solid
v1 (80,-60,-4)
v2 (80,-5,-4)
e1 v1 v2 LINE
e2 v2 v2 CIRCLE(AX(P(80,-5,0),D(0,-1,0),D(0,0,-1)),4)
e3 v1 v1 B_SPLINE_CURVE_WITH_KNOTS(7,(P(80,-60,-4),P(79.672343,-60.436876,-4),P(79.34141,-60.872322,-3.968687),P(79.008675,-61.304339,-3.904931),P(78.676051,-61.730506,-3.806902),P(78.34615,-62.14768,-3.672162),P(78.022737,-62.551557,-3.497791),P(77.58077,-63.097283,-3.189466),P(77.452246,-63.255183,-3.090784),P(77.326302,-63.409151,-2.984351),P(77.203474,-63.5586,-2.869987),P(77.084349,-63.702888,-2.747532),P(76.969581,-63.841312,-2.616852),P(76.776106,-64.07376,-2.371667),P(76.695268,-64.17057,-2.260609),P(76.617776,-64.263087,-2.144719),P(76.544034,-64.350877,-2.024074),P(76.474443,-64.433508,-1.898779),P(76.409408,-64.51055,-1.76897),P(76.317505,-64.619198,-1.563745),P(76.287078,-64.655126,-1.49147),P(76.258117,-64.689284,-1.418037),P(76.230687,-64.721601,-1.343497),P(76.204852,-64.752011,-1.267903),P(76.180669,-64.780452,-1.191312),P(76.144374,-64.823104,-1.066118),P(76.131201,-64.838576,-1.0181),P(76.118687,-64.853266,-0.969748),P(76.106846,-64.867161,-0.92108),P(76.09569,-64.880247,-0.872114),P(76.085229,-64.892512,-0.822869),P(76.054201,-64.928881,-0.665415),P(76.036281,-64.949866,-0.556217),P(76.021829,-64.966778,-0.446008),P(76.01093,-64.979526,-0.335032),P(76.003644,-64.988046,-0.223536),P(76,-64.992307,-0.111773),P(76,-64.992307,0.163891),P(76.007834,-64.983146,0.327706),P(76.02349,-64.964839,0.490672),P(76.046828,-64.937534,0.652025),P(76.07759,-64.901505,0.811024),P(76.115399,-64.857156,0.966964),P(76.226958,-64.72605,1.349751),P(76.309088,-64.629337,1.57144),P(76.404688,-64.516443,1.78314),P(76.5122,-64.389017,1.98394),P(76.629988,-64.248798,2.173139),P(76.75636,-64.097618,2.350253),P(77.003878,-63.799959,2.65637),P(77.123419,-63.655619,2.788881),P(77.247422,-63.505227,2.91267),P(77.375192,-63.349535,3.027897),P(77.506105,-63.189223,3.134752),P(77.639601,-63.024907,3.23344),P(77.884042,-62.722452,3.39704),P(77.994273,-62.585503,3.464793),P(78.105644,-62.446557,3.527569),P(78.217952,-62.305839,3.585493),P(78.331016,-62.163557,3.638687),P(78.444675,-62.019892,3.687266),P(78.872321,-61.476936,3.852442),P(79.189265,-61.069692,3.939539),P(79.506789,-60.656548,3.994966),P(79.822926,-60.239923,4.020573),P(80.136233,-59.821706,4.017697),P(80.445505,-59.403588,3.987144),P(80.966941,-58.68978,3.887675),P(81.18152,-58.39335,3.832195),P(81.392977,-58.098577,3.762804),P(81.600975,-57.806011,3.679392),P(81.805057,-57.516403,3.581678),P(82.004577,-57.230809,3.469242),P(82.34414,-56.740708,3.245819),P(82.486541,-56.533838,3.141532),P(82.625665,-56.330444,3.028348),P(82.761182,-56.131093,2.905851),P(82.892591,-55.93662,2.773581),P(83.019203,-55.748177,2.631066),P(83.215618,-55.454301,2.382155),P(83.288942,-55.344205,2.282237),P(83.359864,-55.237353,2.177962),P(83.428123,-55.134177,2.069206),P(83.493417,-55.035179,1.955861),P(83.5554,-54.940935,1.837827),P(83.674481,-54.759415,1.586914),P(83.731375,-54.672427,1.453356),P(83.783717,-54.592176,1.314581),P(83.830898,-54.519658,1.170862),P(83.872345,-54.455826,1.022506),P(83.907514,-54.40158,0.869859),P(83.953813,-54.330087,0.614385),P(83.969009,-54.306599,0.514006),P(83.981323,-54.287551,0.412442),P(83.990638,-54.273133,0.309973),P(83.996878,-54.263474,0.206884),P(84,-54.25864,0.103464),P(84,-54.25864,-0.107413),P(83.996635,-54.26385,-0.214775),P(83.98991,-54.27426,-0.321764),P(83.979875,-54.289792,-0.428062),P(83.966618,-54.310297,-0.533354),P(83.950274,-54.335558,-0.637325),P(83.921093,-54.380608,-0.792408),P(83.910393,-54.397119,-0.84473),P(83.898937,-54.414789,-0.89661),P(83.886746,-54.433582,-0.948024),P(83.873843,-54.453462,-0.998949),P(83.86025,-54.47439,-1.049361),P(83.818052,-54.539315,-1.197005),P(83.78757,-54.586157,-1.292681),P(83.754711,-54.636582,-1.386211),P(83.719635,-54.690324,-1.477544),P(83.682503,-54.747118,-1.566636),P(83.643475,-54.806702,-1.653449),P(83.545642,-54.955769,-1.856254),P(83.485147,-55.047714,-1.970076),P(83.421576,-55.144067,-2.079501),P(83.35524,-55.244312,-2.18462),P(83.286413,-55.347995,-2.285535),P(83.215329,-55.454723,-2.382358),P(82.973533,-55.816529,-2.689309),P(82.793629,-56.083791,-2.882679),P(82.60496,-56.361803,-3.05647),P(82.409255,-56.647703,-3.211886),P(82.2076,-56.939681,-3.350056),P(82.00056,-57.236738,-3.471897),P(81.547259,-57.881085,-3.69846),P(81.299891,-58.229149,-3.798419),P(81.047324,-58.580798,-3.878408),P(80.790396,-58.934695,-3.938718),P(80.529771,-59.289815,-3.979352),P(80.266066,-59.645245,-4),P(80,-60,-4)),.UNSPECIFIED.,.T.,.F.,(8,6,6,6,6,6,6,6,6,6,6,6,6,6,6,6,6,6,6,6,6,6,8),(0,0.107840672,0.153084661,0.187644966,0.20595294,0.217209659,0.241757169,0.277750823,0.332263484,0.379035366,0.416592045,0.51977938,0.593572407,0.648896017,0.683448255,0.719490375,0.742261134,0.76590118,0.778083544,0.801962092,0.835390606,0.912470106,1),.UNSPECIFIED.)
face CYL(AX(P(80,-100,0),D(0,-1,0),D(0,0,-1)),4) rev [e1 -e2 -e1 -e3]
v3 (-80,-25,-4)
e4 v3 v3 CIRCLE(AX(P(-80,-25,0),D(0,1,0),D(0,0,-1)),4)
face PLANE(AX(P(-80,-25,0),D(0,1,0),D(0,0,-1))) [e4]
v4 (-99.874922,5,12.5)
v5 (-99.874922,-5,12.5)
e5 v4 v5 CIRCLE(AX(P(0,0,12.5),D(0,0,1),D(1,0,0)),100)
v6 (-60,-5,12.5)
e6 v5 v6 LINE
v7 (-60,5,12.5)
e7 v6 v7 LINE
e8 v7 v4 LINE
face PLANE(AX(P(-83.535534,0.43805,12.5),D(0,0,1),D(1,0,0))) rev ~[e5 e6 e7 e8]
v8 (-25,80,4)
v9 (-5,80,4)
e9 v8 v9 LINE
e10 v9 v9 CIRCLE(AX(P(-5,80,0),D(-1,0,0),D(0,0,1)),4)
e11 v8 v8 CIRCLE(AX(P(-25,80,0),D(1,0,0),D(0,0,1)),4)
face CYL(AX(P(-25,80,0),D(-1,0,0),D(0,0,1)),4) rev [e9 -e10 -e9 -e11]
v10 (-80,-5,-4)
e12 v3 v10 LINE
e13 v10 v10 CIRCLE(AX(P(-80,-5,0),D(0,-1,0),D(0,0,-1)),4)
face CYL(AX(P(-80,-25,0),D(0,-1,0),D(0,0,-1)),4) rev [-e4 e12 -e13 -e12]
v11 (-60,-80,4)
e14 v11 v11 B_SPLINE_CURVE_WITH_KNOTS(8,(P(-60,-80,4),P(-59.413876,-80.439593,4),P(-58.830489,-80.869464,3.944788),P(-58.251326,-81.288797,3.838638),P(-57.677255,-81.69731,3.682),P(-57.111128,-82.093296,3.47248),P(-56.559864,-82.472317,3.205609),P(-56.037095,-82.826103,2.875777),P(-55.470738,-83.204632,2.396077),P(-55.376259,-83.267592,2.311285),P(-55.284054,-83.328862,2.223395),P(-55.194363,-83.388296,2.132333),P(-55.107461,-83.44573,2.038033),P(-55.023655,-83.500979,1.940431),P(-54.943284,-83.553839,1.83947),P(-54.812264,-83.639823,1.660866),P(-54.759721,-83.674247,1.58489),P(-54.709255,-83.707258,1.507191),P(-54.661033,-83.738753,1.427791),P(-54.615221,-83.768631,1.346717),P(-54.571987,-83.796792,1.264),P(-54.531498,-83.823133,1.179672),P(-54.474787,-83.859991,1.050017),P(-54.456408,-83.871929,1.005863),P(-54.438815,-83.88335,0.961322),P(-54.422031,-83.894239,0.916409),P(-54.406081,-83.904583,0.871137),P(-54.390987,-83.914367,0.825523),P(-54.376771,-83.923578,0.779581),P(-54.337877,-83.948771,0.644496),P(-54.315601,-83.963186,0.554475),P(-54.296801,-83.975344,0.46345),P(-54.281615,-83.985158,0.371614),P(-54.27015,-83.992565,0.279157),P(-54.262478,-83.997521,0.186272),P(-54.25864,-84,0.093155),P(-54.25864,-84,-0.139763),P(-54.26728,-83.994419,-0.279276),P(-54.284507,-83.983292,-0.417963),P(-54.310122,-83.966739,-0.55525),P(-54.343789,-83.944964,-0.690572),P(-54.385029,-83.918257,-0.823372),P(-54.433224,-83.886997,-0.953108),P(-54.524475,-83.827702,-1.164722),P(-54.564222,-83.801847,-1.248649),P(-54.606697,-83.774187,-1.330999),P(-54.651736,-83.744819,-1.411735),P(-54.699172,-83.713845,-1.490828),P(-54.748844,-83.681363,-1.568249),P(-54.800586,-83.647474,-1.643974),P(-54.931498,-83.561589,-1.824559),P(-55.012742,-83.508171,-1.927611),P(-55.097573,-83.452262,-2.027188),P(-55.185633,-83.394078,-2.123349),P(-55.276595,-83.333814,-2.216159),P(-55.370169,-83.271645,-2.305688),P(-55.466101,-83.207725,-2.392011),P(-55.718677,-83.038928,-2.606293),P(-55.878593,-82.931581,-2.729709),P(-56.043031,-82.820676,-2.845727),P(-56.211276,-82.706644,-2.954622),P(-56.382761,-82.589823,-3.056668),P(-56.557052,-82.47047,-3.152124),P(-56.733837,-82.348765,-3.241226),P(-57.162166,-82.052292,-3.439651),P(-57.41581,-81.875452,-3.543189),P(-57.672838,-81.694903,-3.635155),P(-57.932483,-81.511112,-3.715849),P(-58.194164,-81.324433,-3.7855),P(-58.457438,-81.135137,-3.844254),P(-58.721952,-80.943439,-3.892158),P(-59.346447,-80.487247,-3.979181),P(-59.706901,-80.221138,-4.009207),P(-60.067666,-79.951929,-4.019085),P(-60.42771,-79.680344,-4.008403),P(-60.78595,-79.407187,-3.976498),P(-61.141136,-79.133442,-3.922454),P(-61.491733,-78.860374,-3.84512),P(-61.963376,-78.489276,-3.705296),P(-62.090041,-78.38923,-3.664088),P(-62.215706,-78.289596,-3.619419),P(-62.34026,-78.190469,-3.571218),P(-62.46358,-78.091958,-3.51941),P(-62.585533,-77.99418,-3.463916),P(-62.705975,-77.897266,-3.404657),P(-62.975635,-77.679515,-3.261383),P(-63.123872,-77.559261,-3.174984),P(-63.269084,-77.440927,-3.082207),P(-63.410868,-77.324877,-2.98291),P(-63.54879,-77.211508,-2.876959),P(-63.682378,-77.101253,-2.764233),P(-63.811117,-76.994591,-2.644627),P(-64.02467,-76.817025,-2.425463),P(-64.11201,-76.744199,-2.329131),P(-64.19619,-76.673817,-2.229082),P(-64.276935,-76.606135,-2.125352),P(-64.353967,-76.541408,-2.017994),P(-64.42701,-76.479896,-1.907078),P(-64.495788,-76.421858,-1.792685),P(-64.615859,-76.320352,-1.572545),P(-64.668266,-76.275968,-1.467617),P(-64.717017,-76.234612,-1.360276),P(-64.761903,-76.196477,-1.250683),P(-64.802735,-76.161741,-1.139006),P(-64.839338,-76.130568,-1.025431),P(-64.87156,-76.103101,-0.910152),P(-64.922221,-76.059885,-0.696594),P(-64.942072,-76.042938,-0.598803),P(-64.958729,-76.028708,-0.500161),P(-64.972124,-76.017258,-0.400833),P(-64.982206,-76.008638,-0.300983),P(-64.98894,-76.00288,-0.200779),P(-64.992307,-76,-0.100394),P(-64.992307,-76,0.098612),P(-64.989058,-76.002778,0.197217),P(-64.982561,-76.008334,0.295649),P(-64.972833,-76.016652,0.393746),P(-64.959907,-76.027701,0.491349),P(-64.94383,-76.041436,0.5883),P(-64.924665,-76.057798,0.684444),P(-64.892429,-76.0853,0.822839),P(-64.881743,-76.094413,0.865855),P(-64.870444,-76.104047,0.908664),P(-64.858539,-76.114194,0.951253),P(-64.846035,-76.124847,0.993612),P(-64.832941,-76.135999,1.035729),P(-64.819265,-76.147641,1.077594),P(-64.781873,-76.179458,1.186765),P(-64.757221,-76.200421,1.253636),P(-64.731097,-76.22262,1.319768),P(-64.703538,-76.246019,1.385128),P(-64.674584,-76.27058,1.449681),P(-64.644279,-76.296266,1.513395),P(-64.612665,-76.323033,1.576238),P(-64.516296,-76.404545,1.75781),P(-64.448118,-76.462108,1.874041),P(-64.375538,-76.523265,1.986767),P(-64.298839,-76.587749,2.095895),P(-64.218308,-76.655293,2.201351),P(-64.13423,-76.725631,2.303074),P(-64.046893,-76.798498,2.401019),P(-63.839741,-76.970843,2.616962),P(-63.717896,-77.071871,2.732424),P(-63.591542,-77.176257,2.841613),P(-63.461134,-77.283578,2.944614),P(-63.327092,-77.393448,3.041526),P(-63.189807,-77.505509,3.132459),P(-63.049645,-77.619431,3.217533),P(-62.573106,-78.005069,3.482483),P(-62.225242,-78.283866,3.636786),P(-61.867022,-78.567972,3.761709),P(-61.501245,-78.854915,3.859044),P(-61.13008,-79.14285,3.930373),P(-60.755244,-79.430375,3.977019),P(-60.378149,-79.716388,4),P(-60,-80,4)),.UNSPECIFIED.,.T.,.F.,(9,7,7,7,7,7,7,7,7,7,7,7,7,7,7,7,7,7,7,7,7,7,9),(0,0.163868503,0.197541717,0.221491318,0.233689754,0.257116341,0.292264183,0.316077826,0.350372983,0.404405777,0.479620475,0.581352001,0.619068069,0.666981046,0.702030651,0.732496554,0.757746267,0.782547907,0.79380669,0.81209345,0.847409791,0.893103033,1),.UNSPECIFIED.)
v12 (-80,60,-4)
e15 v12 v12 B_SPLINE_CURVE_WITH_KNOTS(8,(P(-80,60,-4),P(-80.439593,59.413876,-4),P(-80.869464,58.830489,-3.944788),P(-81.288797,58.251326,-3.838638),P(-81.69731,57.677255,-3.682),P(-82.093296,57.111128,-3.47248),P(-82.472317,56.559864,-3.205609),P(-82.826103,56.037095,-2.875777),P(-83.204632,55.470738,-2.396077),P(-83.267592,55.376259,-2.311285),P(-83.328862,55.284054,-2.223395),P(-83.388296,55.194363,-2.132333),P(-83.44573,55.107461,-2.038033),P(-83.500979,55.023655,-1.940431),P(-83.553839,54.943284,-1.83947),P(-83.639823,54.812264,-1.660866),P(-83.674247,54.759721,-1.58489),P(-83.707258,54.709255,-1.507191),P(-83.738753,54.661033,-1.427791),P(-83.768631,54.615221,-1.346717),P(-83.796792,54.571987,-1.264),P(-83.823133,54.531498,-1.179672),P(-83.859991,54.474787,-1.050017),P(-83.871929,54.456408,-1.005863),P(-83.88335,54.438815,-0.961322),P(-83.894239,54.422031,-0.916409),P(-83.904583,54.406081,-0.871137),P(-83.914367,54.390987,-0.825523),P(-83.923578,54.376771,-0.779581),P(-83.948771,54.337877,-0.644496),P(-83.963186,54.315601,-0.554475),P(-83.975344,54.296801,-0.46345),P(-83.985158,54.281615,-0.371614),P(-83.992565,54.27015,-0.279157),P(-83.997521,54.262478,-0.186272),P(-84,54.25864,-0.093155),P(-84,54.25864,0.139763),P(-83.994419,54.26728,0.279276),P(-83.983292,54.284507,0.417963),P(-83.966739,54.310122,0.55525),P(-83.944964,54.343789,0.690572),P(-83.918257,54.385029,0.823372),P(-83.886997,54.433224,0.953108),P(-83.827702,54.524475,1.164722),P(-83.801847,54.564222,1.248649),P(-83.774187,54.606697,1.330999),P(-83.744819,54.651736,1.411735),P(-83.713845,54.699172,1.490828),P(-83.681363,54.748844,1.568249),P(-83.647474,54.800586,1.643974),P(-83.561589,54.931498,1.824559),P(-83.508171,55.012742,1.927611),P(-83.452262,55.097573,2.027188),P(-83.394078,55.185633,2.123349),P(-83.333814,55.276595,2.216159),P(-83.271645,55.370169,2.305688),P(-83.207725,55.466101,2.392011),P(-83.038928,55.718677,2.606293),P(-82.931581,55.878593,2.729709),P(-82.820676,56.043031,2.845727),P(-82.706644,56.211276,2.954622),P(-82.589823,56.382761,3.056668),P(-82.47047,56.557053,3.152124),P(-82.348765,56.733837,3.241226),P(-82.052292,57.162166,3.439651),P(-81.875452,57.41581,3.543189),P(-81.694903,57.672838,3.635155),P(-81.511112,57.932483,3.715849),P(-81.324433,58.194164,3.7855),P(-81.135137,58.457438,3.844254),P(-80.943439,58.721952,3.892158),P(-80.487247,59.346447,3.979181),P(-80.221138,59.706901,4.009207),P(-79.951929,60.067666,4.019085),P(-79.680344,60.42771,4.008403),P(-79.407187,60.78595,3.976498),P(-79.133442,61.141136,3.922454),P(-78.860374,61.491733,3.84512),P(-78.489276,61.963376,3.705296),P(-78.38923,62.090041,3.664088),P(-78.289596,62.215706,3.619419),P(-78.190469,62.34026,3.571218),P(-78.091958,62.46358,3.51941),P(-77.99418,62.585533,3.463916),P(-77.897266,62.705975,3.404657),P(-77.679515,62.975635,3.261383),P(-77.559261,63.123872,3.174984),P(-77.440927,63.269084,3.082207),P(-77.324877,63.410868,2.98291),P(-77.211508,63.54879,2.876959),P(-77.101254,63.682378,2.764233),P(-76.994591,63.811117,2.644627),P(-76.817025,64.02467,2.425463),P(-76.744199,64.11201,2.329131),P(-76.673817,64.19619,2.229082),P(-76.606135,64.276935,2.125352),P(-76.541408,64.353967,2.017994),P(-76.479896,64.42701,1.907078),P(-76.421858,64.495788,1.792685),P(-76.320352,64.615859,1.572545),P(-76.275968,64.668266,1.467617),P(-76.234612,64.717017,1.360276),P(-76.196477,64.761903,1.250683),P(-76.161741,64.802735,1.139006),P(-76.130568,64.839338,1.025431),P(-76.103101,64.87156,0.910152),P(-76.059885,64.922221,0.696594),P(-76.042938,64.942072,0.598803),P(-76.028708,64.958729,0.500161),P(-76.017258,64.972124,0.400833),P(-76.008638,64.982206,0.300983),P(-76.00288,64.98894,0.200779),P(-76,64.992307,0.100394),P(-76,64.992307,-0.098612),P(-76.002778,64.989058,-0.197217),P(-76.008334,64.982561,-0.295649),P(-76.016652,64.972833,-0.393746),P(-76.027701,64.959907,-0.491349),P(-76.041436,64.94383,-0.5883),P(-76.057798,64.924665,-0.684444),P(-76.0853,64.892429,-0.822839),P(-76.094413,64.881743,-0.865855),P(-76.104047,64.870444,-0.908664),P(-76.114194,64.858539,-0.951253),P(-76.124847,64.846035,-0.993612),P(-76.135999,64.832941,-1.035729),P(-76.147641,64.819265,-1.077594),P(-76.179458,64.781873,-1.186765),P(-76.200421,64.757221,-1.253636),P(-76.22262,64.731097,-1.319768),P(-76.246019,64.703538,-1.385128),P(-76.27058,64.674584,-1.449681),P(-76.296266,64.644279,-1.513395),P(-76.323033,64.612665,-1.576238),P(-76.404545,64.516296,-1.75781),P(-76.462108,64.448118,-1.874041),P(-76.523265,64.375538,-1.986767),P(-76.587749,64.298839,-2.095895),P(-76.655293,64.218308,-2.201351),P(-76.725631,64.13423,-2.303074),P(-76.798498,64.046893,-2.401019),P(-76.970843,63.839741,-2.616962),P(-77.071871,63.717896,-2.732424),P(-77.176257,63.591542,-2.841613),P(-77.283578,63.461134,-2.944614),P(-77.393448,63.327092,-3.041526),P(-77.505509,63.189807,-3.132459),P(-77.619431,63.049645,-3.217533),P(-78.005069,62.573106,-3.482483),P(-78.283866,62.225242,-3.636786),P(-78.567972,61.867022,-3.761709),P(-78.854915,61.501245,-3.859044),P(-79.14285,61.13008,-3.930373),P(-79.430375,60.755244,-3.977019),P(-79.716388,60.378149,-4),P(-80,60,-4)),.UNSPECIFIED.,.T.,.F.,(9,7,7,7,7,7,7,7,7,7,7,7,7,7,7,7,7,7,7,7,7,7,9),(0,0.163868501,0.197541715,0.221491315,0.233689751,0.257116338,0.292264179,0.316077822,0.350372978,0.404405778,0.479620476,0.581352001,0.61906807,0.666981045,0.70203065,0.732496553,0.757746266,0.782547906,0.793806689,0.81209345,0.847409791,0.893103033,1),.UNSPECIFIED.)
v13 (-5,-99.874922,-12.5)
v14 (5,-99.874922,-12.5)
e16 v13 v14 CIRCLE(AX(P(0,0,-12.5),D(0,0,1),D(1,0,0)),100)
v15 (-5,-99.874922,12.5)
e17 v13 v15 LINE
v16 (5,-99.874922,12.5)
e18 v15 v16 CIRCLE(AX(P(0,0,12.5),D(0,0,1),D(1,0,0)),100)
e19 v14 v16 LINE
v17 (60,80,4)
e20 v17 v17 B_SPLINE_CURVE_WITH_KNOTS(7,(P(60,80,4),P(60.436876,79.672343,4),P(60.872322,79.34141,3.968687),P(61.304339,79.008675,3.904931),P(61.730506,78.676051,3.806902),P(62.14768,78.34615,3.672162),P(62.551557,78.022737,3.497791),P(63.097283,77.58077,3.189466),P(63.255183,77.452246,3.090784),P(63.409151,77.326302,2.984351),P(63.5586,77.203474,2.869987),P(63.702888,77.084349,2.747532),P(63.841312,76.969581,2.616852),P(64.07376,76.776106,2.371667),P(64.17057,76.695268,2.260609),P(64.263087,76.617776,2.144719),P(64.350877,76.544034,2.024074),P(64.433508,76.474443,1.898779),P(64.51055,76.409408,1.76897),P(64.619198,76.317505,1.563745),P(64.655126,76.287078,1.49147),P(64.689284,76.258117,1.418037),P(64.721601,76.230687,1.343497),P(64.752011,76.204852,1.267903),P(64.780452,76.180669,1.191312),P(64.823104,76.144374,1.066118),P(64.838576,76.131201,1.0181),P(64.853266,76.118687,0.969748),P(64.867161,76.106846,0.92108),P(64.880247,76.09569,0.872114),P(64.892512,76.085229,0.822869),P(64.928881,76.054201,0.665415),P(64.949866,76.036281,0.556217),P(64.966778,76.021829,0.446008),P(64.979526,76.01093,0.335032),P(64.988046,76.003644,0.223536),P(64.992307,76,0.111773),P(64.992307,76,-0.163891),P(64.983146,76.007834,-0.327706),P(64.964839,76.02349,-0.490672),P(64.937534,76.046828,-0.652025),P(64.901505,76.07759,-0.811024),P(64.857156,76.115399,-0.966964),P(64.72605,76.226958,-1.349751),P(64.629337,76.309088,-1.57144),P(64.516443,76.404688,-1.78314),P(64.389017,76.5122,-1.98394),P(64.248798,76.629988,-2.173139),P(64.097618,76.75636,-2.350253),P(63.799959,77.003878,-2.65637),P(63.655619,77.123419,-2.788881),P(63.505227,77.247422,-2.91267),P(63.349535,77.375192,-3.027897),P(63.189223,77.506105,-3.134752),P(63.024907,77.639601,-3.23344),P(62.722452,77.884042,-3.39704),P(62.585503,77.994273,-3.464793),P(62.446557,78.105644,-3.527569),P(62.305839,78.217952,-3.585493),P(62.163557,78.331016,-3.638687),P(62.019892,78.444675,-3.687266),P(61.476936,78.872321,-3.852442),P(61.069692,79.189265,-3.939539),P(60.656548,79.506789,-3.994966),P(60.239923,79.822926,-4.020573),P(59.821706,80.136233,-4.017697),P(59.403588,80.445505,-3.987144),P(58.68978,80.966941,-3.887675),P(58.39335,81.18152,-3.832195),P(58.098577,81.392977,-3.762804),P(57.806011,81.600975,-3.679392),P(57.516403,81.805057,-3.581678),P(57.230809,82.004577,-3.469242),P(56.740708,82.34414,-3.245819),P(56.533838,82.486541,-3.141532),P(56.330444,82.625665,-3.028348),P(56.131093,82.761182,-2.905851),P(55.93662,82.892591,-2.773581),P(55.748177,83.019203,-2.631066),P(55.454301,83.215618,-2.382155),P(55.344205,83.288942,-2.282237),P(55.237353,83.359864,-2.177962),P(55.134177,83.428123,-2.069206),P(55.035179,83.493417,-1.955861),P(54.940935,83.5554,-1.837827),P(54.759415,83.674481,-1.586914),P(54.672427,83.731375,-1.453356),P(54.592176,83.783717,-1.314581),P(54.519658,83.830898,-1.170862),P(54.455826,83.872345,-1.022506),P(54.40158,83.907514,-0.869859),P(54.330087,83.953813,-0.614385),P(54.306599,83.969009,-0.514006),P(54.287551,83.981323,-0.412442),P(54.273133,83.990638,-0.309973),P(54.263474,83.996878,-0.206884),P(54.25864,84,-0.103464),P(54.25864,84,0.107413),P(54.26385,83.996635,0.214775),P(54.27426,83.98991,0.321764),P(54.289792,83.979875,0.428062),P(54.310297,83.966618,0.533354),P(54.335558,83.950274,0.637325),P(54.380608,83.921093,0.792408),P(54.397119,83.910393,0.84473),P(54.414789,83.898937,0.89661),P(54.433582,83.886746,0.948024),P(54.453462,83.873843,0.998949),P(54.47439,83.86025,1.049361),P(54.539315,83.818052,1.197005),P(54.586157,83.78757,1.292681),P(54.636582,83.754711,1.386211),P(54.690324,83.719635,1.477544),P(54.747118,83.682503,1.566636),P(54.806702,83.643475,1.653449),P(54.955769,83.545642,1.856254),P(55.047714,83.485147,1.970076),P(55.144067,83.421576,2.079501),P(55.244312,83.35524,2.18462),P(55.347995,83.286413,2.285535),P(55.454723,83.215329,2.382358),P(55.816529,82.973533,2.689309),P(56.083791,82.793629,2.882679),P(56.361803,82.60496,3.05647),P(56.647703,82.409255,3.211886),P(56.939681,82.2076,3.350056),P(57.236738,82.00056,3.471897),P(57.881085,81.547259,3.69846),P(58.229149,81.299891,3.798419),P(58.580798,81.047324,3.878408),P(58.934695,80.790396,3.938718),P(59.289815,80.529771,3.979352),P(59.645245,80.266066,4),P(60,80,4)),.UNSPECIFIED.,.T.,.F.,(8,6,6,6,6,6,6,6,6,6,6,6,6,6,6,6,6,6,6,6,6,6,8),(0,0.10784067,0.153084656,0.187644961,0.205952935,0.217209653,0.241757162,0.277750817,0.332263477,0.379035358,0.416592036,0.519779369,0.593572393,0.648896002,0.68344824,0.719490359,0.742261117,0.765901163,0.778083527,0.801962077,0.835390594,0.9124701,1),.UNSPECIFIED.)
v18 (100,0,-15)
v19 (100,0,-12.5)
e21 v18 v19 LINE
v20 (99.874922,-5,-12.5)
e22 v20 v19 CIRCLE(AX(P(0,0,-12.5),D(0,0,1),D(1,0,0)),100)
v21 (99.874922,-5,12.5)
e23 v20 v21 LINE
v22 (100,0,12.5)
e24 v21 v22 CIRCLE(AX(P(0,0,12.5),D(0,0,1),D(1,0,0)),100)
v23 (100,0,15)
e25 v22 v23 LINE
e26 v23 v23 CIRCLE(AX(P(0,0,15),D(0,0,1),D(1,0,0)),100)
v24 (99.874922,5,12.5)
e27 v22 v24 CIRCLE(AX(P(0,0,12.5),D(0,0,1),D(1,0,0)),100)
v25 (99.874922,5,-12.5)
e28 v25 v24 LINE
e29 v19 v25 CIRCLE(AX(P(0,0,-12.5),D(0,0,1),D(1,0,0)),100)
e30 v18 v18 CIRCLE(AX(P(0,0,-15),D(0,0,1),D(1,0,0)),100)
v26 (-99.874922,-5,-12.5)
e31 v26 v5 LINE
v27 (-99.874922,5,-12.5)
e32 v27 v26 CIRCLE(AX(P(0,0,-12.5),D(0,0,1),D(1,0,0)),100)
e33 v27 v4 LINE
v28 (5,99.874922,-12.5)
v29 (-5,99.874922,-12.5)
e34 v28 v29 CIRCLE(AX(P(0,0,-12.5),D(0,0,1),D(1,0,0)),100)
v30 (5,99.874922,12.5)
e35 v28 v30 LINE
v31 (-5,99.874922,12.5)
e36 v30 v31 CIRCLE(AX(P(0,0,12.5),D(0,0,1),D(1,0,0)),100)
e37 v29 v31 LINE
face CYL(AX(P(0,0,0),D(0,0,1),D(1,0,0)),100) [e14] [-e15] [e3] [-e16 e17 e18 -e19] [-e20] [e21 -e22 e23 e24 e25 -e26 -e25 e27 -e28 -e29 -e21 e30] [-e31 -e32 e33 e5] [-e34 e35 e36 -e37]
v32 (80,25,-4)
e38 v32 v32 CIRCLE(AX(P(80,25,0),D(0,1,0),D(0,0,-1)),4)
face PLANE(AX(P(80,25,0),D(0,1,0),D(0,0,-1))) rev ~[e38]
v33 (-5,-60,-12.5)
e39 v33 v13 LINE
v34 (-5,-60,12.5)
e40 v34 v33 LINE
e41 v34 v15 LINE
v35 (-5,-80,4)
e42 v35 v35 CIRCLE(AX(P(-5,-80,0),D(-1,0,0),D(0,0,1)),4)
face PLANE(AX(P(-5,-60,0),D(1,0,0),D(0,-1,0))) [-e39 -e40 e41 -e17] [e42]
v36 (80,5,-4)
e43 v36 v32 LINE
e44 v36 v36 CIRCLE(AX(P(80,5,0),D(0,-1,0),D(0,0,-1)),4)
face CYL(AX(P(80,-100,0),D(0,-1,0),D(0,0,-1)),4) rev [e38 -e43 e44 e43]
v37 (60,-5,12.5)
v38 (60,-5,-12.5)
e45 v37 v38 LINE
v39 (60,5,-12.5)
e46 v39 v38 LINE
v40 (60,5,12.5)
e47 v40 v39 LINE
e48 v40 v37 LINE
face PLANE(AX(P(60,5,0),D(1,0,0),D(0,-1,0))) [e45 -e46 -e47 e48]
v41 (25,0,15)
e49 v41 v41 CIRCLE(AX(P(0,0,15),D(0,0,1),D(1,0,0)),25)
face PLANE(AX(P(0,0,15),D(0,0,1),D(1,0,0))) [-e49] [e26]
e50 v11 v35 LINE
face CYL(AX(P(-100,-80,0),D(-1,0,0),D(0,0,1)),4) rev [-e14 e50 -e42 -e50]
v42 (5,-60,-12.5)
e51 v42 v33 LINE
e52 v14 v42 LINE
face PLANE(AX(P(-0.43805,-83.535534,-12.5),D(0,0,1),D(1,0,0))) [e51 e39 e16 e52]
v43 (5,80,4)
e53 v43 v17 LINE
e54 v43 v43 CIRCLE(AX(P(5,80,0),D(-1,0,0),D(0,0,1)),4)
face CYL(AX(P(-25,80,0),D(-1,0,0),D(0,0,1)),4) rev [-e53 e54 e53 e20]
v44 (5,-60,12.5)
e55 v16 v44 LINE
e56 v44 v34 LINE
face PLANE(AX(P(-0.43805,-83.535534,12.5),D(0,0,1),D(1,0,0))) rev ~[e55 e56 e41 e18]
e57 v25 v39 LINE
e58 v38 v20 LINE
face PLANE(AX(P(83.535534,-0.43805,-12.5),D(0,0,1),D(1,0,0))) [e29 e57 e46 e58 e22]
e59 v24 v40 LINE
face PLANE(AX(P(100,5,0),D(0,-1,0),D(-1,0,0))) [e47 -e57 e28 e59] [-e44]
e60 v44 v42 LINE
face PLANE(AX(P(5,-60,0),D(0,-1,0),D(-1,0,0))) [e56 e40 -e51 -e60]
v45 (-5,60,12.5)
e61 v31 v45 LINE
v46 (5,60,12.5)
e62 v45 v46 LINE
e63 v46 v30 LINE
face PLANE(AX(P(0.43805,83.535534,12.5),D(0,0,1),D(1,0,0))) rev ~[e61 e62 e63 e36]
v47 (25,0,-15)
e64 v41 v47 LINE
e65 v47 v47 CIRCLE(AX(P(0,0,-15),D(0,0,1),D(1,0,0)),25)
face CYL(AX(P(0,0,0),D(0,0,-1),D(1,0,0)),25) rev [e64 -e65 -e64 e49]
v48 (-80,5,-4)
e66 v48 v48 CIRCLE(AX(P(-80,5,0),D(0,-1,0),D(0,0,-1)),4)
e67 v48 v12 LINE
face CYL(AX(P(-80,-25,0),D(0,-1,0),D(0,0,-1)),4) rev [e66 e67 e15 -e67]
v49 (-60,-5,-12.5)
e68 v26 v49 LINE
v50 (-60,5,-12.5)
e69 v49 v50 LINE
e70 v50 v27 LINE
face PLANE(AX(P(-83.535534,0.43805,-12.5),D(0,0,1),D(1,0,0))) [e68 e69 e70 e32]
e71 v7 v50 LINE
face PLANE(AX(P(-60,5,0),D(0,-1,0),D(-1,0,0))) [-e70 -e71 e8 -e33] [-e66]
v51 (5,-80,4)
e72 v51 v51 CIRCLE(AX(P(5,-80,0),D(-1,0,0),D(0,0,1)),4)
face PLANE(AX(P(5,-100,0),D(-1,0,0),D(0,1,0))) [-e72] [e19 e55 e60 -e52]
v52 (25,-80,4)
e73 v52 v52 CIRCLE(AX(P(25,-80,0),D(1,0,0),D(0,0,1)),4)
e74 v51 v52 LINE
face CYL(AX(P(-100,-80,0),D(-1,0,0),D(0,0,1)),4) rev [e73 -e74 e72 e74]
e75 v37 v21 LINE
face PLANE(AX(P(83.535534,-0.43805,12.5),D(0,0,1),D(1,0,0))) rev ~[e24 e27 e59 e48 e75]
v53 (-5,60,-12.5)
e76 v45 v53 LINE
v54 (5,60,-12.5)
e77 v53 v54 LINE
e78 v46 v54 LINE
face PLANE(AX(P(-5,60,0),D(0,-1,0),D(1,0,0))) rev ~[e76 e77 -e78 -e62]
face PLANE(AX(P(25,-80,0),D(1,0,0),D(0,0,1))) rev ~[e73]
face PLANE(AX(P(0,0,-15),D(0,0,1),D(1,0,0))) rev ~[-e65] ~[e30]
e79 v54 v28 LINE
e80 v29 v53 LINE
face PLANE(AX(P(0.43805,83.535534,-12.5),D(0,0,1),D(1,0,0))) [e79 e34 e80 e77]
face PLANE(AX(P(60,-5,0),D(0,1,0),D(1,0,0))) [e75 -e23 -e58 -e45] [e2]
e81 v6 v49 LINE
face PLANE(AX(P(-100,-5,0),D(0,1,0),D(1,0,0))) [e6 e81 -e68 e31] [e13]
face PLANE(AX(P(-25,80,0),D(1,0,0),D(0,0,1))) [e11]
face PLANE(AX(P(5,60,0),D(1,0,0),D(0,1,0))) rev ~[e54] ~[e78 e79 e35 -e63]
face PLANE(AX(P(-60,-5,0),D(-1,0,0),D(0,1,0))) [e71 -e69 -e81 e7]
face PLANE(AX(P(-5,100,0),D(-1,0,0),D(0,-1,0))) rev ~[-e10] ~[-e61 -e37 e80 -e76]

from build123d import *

# Parameters (mm, degrees)
SKETCH1_R               = 100
SKETCH1_R_2             = 25
BOSS_EXTRUDE1_DEPTH     = 15
CUT_EXTRUDE1_DEPTH      = 12.5
CUT_EXTRUDE2_DEPTH      = 25
CUT_EXTRUDE2_DEPTH_BACK = 100
SKETCH3_R               = 4
CUT_EXTRUDE3_DEPTH      = 100
CUT_EXTRUDE3_DEPTH_BACK = 25
SKETCH4_R               = 4
CUT_EXTRUDE4_DEPTH      = 25
CUT_EXTRUDE4_DEPTH_BACK = 100
SKETCH5_R               = 4
CUT_EXTRUDE5_DEPTH      = 100
CUT_EXTRUDE5_DEPTH_BACK = 25
SKETCH6_R               = 4


with BuildPart() as part:
    # Sketch1 → Boss-Extrude1 (new, symmetric)
    with BuildSketch(Plane.XY):
        Circle(SKETCH1_R)
        Circle(SKETCH1_R_2, mode=Mode.SUBTRACT)
    extrude(amount=BOSS_EXTRUDE1_DEPTH, both=True)

    # Sketch2 → Cut-Extrude1 (cut, symmetric)
    with BuildSketch(Plane.XY):
        Polygon((60, -5), (110, -5), (100, 5), (60, 5), align=None)
        Polygon((-5, -60), (-5, -110), (5, -100), (5, -60), align=None)
        Polygon((-60, 5), (-110, 5), (-100, -5), (-60, -5), align=None)
        Polygon((5, 60), (5, 110), (-5, 100), (-5, 60), align=None)
    extrude(amount=CUT_EXTRUDE1_DEPTH, both=True, mode=Mode.SUBTRACT)

    # Sketch3 → Cut-Extrude2 (cut, two sides: drawn at the far end of the back side and taken through both)
    with BuildSketch(Plane(origin=(0, 0, 0), x_dir=(1, 0, 0), z_dir=(0, 1, 0)).offset(-CUT_EXTRUDE2_DEPTH_BACK)):
        with Locations(Location((80, 0, 0), (0, 0, 90))):
            Circle(SKETCH3_R)
    extrude(amount=CUT_EXTRUDE2_DEPTH + CUT_EXTRUDE2_DEPTH_BACK, mode=Mode.SUBTRACT)

    # Sketch4 → Cut-Extrude3 (cut, two sides: drawn at the far end of the back side and taken through both)
    with BuildSketch(Plane(origin=(0, 0, 0), x_dir=(0, 0, -1), z_dir=(1, 0, 0)).offset(-CUT_EXTRUDE3_DEPTH_BACK)):
        with Locations(Location((0, 80, 0), (0, 0, 180))):
            Circle(SKETCH4_R)
    extrude(amount=CUT_EXTRUDE3_DEPTH + CUT_EXTRUDE3_DEPTH_BACK, mode=Mode.SUBTRACT)

    # Sketch5 → Cut-Extrude4 (cut, two sides: drawn at the far end of the back side and taken through both)
    with BuildSketch(Plane(origin=(0, 0, 0), x_dir=(0, 0, -1), z_dir=(1, 0, 0)).offset(-CUT_EXTRUDE4_DEPTH_BACK)):
        with Locations(Location((0, -80, 0), (0, 0, 180))):
            Circle(SKETCH5_R)
    extrude(amount=CUT_EXTRUDE4_DEPTH + CUT_EXTRUDE4_DEPTH_BACK, mode=Mode.SUBTRACT)

    # Sketch6 → Cut-Extrude5 (cut, two sides: drawn at the far end of the back side and taken through both)
    with BuildSketch(Plane(origin=(0, 0, 0), x_dir=(1, 0, 0), z_dir=(0, 1, 0)).offset(-CUT_EXTRUDE5_DEPTH_BACK)):
        with Locations(Location((-80, 0, 0), (0, 0, 90))):
            Circle(SKETCH6_R)
    extrude(amount=CUT_EXTRUDE5_DEPTH + CUT_EXTRUDE5_DEPTH_BACK, mode=Mode.SUBTRACT)


solid = part.part
